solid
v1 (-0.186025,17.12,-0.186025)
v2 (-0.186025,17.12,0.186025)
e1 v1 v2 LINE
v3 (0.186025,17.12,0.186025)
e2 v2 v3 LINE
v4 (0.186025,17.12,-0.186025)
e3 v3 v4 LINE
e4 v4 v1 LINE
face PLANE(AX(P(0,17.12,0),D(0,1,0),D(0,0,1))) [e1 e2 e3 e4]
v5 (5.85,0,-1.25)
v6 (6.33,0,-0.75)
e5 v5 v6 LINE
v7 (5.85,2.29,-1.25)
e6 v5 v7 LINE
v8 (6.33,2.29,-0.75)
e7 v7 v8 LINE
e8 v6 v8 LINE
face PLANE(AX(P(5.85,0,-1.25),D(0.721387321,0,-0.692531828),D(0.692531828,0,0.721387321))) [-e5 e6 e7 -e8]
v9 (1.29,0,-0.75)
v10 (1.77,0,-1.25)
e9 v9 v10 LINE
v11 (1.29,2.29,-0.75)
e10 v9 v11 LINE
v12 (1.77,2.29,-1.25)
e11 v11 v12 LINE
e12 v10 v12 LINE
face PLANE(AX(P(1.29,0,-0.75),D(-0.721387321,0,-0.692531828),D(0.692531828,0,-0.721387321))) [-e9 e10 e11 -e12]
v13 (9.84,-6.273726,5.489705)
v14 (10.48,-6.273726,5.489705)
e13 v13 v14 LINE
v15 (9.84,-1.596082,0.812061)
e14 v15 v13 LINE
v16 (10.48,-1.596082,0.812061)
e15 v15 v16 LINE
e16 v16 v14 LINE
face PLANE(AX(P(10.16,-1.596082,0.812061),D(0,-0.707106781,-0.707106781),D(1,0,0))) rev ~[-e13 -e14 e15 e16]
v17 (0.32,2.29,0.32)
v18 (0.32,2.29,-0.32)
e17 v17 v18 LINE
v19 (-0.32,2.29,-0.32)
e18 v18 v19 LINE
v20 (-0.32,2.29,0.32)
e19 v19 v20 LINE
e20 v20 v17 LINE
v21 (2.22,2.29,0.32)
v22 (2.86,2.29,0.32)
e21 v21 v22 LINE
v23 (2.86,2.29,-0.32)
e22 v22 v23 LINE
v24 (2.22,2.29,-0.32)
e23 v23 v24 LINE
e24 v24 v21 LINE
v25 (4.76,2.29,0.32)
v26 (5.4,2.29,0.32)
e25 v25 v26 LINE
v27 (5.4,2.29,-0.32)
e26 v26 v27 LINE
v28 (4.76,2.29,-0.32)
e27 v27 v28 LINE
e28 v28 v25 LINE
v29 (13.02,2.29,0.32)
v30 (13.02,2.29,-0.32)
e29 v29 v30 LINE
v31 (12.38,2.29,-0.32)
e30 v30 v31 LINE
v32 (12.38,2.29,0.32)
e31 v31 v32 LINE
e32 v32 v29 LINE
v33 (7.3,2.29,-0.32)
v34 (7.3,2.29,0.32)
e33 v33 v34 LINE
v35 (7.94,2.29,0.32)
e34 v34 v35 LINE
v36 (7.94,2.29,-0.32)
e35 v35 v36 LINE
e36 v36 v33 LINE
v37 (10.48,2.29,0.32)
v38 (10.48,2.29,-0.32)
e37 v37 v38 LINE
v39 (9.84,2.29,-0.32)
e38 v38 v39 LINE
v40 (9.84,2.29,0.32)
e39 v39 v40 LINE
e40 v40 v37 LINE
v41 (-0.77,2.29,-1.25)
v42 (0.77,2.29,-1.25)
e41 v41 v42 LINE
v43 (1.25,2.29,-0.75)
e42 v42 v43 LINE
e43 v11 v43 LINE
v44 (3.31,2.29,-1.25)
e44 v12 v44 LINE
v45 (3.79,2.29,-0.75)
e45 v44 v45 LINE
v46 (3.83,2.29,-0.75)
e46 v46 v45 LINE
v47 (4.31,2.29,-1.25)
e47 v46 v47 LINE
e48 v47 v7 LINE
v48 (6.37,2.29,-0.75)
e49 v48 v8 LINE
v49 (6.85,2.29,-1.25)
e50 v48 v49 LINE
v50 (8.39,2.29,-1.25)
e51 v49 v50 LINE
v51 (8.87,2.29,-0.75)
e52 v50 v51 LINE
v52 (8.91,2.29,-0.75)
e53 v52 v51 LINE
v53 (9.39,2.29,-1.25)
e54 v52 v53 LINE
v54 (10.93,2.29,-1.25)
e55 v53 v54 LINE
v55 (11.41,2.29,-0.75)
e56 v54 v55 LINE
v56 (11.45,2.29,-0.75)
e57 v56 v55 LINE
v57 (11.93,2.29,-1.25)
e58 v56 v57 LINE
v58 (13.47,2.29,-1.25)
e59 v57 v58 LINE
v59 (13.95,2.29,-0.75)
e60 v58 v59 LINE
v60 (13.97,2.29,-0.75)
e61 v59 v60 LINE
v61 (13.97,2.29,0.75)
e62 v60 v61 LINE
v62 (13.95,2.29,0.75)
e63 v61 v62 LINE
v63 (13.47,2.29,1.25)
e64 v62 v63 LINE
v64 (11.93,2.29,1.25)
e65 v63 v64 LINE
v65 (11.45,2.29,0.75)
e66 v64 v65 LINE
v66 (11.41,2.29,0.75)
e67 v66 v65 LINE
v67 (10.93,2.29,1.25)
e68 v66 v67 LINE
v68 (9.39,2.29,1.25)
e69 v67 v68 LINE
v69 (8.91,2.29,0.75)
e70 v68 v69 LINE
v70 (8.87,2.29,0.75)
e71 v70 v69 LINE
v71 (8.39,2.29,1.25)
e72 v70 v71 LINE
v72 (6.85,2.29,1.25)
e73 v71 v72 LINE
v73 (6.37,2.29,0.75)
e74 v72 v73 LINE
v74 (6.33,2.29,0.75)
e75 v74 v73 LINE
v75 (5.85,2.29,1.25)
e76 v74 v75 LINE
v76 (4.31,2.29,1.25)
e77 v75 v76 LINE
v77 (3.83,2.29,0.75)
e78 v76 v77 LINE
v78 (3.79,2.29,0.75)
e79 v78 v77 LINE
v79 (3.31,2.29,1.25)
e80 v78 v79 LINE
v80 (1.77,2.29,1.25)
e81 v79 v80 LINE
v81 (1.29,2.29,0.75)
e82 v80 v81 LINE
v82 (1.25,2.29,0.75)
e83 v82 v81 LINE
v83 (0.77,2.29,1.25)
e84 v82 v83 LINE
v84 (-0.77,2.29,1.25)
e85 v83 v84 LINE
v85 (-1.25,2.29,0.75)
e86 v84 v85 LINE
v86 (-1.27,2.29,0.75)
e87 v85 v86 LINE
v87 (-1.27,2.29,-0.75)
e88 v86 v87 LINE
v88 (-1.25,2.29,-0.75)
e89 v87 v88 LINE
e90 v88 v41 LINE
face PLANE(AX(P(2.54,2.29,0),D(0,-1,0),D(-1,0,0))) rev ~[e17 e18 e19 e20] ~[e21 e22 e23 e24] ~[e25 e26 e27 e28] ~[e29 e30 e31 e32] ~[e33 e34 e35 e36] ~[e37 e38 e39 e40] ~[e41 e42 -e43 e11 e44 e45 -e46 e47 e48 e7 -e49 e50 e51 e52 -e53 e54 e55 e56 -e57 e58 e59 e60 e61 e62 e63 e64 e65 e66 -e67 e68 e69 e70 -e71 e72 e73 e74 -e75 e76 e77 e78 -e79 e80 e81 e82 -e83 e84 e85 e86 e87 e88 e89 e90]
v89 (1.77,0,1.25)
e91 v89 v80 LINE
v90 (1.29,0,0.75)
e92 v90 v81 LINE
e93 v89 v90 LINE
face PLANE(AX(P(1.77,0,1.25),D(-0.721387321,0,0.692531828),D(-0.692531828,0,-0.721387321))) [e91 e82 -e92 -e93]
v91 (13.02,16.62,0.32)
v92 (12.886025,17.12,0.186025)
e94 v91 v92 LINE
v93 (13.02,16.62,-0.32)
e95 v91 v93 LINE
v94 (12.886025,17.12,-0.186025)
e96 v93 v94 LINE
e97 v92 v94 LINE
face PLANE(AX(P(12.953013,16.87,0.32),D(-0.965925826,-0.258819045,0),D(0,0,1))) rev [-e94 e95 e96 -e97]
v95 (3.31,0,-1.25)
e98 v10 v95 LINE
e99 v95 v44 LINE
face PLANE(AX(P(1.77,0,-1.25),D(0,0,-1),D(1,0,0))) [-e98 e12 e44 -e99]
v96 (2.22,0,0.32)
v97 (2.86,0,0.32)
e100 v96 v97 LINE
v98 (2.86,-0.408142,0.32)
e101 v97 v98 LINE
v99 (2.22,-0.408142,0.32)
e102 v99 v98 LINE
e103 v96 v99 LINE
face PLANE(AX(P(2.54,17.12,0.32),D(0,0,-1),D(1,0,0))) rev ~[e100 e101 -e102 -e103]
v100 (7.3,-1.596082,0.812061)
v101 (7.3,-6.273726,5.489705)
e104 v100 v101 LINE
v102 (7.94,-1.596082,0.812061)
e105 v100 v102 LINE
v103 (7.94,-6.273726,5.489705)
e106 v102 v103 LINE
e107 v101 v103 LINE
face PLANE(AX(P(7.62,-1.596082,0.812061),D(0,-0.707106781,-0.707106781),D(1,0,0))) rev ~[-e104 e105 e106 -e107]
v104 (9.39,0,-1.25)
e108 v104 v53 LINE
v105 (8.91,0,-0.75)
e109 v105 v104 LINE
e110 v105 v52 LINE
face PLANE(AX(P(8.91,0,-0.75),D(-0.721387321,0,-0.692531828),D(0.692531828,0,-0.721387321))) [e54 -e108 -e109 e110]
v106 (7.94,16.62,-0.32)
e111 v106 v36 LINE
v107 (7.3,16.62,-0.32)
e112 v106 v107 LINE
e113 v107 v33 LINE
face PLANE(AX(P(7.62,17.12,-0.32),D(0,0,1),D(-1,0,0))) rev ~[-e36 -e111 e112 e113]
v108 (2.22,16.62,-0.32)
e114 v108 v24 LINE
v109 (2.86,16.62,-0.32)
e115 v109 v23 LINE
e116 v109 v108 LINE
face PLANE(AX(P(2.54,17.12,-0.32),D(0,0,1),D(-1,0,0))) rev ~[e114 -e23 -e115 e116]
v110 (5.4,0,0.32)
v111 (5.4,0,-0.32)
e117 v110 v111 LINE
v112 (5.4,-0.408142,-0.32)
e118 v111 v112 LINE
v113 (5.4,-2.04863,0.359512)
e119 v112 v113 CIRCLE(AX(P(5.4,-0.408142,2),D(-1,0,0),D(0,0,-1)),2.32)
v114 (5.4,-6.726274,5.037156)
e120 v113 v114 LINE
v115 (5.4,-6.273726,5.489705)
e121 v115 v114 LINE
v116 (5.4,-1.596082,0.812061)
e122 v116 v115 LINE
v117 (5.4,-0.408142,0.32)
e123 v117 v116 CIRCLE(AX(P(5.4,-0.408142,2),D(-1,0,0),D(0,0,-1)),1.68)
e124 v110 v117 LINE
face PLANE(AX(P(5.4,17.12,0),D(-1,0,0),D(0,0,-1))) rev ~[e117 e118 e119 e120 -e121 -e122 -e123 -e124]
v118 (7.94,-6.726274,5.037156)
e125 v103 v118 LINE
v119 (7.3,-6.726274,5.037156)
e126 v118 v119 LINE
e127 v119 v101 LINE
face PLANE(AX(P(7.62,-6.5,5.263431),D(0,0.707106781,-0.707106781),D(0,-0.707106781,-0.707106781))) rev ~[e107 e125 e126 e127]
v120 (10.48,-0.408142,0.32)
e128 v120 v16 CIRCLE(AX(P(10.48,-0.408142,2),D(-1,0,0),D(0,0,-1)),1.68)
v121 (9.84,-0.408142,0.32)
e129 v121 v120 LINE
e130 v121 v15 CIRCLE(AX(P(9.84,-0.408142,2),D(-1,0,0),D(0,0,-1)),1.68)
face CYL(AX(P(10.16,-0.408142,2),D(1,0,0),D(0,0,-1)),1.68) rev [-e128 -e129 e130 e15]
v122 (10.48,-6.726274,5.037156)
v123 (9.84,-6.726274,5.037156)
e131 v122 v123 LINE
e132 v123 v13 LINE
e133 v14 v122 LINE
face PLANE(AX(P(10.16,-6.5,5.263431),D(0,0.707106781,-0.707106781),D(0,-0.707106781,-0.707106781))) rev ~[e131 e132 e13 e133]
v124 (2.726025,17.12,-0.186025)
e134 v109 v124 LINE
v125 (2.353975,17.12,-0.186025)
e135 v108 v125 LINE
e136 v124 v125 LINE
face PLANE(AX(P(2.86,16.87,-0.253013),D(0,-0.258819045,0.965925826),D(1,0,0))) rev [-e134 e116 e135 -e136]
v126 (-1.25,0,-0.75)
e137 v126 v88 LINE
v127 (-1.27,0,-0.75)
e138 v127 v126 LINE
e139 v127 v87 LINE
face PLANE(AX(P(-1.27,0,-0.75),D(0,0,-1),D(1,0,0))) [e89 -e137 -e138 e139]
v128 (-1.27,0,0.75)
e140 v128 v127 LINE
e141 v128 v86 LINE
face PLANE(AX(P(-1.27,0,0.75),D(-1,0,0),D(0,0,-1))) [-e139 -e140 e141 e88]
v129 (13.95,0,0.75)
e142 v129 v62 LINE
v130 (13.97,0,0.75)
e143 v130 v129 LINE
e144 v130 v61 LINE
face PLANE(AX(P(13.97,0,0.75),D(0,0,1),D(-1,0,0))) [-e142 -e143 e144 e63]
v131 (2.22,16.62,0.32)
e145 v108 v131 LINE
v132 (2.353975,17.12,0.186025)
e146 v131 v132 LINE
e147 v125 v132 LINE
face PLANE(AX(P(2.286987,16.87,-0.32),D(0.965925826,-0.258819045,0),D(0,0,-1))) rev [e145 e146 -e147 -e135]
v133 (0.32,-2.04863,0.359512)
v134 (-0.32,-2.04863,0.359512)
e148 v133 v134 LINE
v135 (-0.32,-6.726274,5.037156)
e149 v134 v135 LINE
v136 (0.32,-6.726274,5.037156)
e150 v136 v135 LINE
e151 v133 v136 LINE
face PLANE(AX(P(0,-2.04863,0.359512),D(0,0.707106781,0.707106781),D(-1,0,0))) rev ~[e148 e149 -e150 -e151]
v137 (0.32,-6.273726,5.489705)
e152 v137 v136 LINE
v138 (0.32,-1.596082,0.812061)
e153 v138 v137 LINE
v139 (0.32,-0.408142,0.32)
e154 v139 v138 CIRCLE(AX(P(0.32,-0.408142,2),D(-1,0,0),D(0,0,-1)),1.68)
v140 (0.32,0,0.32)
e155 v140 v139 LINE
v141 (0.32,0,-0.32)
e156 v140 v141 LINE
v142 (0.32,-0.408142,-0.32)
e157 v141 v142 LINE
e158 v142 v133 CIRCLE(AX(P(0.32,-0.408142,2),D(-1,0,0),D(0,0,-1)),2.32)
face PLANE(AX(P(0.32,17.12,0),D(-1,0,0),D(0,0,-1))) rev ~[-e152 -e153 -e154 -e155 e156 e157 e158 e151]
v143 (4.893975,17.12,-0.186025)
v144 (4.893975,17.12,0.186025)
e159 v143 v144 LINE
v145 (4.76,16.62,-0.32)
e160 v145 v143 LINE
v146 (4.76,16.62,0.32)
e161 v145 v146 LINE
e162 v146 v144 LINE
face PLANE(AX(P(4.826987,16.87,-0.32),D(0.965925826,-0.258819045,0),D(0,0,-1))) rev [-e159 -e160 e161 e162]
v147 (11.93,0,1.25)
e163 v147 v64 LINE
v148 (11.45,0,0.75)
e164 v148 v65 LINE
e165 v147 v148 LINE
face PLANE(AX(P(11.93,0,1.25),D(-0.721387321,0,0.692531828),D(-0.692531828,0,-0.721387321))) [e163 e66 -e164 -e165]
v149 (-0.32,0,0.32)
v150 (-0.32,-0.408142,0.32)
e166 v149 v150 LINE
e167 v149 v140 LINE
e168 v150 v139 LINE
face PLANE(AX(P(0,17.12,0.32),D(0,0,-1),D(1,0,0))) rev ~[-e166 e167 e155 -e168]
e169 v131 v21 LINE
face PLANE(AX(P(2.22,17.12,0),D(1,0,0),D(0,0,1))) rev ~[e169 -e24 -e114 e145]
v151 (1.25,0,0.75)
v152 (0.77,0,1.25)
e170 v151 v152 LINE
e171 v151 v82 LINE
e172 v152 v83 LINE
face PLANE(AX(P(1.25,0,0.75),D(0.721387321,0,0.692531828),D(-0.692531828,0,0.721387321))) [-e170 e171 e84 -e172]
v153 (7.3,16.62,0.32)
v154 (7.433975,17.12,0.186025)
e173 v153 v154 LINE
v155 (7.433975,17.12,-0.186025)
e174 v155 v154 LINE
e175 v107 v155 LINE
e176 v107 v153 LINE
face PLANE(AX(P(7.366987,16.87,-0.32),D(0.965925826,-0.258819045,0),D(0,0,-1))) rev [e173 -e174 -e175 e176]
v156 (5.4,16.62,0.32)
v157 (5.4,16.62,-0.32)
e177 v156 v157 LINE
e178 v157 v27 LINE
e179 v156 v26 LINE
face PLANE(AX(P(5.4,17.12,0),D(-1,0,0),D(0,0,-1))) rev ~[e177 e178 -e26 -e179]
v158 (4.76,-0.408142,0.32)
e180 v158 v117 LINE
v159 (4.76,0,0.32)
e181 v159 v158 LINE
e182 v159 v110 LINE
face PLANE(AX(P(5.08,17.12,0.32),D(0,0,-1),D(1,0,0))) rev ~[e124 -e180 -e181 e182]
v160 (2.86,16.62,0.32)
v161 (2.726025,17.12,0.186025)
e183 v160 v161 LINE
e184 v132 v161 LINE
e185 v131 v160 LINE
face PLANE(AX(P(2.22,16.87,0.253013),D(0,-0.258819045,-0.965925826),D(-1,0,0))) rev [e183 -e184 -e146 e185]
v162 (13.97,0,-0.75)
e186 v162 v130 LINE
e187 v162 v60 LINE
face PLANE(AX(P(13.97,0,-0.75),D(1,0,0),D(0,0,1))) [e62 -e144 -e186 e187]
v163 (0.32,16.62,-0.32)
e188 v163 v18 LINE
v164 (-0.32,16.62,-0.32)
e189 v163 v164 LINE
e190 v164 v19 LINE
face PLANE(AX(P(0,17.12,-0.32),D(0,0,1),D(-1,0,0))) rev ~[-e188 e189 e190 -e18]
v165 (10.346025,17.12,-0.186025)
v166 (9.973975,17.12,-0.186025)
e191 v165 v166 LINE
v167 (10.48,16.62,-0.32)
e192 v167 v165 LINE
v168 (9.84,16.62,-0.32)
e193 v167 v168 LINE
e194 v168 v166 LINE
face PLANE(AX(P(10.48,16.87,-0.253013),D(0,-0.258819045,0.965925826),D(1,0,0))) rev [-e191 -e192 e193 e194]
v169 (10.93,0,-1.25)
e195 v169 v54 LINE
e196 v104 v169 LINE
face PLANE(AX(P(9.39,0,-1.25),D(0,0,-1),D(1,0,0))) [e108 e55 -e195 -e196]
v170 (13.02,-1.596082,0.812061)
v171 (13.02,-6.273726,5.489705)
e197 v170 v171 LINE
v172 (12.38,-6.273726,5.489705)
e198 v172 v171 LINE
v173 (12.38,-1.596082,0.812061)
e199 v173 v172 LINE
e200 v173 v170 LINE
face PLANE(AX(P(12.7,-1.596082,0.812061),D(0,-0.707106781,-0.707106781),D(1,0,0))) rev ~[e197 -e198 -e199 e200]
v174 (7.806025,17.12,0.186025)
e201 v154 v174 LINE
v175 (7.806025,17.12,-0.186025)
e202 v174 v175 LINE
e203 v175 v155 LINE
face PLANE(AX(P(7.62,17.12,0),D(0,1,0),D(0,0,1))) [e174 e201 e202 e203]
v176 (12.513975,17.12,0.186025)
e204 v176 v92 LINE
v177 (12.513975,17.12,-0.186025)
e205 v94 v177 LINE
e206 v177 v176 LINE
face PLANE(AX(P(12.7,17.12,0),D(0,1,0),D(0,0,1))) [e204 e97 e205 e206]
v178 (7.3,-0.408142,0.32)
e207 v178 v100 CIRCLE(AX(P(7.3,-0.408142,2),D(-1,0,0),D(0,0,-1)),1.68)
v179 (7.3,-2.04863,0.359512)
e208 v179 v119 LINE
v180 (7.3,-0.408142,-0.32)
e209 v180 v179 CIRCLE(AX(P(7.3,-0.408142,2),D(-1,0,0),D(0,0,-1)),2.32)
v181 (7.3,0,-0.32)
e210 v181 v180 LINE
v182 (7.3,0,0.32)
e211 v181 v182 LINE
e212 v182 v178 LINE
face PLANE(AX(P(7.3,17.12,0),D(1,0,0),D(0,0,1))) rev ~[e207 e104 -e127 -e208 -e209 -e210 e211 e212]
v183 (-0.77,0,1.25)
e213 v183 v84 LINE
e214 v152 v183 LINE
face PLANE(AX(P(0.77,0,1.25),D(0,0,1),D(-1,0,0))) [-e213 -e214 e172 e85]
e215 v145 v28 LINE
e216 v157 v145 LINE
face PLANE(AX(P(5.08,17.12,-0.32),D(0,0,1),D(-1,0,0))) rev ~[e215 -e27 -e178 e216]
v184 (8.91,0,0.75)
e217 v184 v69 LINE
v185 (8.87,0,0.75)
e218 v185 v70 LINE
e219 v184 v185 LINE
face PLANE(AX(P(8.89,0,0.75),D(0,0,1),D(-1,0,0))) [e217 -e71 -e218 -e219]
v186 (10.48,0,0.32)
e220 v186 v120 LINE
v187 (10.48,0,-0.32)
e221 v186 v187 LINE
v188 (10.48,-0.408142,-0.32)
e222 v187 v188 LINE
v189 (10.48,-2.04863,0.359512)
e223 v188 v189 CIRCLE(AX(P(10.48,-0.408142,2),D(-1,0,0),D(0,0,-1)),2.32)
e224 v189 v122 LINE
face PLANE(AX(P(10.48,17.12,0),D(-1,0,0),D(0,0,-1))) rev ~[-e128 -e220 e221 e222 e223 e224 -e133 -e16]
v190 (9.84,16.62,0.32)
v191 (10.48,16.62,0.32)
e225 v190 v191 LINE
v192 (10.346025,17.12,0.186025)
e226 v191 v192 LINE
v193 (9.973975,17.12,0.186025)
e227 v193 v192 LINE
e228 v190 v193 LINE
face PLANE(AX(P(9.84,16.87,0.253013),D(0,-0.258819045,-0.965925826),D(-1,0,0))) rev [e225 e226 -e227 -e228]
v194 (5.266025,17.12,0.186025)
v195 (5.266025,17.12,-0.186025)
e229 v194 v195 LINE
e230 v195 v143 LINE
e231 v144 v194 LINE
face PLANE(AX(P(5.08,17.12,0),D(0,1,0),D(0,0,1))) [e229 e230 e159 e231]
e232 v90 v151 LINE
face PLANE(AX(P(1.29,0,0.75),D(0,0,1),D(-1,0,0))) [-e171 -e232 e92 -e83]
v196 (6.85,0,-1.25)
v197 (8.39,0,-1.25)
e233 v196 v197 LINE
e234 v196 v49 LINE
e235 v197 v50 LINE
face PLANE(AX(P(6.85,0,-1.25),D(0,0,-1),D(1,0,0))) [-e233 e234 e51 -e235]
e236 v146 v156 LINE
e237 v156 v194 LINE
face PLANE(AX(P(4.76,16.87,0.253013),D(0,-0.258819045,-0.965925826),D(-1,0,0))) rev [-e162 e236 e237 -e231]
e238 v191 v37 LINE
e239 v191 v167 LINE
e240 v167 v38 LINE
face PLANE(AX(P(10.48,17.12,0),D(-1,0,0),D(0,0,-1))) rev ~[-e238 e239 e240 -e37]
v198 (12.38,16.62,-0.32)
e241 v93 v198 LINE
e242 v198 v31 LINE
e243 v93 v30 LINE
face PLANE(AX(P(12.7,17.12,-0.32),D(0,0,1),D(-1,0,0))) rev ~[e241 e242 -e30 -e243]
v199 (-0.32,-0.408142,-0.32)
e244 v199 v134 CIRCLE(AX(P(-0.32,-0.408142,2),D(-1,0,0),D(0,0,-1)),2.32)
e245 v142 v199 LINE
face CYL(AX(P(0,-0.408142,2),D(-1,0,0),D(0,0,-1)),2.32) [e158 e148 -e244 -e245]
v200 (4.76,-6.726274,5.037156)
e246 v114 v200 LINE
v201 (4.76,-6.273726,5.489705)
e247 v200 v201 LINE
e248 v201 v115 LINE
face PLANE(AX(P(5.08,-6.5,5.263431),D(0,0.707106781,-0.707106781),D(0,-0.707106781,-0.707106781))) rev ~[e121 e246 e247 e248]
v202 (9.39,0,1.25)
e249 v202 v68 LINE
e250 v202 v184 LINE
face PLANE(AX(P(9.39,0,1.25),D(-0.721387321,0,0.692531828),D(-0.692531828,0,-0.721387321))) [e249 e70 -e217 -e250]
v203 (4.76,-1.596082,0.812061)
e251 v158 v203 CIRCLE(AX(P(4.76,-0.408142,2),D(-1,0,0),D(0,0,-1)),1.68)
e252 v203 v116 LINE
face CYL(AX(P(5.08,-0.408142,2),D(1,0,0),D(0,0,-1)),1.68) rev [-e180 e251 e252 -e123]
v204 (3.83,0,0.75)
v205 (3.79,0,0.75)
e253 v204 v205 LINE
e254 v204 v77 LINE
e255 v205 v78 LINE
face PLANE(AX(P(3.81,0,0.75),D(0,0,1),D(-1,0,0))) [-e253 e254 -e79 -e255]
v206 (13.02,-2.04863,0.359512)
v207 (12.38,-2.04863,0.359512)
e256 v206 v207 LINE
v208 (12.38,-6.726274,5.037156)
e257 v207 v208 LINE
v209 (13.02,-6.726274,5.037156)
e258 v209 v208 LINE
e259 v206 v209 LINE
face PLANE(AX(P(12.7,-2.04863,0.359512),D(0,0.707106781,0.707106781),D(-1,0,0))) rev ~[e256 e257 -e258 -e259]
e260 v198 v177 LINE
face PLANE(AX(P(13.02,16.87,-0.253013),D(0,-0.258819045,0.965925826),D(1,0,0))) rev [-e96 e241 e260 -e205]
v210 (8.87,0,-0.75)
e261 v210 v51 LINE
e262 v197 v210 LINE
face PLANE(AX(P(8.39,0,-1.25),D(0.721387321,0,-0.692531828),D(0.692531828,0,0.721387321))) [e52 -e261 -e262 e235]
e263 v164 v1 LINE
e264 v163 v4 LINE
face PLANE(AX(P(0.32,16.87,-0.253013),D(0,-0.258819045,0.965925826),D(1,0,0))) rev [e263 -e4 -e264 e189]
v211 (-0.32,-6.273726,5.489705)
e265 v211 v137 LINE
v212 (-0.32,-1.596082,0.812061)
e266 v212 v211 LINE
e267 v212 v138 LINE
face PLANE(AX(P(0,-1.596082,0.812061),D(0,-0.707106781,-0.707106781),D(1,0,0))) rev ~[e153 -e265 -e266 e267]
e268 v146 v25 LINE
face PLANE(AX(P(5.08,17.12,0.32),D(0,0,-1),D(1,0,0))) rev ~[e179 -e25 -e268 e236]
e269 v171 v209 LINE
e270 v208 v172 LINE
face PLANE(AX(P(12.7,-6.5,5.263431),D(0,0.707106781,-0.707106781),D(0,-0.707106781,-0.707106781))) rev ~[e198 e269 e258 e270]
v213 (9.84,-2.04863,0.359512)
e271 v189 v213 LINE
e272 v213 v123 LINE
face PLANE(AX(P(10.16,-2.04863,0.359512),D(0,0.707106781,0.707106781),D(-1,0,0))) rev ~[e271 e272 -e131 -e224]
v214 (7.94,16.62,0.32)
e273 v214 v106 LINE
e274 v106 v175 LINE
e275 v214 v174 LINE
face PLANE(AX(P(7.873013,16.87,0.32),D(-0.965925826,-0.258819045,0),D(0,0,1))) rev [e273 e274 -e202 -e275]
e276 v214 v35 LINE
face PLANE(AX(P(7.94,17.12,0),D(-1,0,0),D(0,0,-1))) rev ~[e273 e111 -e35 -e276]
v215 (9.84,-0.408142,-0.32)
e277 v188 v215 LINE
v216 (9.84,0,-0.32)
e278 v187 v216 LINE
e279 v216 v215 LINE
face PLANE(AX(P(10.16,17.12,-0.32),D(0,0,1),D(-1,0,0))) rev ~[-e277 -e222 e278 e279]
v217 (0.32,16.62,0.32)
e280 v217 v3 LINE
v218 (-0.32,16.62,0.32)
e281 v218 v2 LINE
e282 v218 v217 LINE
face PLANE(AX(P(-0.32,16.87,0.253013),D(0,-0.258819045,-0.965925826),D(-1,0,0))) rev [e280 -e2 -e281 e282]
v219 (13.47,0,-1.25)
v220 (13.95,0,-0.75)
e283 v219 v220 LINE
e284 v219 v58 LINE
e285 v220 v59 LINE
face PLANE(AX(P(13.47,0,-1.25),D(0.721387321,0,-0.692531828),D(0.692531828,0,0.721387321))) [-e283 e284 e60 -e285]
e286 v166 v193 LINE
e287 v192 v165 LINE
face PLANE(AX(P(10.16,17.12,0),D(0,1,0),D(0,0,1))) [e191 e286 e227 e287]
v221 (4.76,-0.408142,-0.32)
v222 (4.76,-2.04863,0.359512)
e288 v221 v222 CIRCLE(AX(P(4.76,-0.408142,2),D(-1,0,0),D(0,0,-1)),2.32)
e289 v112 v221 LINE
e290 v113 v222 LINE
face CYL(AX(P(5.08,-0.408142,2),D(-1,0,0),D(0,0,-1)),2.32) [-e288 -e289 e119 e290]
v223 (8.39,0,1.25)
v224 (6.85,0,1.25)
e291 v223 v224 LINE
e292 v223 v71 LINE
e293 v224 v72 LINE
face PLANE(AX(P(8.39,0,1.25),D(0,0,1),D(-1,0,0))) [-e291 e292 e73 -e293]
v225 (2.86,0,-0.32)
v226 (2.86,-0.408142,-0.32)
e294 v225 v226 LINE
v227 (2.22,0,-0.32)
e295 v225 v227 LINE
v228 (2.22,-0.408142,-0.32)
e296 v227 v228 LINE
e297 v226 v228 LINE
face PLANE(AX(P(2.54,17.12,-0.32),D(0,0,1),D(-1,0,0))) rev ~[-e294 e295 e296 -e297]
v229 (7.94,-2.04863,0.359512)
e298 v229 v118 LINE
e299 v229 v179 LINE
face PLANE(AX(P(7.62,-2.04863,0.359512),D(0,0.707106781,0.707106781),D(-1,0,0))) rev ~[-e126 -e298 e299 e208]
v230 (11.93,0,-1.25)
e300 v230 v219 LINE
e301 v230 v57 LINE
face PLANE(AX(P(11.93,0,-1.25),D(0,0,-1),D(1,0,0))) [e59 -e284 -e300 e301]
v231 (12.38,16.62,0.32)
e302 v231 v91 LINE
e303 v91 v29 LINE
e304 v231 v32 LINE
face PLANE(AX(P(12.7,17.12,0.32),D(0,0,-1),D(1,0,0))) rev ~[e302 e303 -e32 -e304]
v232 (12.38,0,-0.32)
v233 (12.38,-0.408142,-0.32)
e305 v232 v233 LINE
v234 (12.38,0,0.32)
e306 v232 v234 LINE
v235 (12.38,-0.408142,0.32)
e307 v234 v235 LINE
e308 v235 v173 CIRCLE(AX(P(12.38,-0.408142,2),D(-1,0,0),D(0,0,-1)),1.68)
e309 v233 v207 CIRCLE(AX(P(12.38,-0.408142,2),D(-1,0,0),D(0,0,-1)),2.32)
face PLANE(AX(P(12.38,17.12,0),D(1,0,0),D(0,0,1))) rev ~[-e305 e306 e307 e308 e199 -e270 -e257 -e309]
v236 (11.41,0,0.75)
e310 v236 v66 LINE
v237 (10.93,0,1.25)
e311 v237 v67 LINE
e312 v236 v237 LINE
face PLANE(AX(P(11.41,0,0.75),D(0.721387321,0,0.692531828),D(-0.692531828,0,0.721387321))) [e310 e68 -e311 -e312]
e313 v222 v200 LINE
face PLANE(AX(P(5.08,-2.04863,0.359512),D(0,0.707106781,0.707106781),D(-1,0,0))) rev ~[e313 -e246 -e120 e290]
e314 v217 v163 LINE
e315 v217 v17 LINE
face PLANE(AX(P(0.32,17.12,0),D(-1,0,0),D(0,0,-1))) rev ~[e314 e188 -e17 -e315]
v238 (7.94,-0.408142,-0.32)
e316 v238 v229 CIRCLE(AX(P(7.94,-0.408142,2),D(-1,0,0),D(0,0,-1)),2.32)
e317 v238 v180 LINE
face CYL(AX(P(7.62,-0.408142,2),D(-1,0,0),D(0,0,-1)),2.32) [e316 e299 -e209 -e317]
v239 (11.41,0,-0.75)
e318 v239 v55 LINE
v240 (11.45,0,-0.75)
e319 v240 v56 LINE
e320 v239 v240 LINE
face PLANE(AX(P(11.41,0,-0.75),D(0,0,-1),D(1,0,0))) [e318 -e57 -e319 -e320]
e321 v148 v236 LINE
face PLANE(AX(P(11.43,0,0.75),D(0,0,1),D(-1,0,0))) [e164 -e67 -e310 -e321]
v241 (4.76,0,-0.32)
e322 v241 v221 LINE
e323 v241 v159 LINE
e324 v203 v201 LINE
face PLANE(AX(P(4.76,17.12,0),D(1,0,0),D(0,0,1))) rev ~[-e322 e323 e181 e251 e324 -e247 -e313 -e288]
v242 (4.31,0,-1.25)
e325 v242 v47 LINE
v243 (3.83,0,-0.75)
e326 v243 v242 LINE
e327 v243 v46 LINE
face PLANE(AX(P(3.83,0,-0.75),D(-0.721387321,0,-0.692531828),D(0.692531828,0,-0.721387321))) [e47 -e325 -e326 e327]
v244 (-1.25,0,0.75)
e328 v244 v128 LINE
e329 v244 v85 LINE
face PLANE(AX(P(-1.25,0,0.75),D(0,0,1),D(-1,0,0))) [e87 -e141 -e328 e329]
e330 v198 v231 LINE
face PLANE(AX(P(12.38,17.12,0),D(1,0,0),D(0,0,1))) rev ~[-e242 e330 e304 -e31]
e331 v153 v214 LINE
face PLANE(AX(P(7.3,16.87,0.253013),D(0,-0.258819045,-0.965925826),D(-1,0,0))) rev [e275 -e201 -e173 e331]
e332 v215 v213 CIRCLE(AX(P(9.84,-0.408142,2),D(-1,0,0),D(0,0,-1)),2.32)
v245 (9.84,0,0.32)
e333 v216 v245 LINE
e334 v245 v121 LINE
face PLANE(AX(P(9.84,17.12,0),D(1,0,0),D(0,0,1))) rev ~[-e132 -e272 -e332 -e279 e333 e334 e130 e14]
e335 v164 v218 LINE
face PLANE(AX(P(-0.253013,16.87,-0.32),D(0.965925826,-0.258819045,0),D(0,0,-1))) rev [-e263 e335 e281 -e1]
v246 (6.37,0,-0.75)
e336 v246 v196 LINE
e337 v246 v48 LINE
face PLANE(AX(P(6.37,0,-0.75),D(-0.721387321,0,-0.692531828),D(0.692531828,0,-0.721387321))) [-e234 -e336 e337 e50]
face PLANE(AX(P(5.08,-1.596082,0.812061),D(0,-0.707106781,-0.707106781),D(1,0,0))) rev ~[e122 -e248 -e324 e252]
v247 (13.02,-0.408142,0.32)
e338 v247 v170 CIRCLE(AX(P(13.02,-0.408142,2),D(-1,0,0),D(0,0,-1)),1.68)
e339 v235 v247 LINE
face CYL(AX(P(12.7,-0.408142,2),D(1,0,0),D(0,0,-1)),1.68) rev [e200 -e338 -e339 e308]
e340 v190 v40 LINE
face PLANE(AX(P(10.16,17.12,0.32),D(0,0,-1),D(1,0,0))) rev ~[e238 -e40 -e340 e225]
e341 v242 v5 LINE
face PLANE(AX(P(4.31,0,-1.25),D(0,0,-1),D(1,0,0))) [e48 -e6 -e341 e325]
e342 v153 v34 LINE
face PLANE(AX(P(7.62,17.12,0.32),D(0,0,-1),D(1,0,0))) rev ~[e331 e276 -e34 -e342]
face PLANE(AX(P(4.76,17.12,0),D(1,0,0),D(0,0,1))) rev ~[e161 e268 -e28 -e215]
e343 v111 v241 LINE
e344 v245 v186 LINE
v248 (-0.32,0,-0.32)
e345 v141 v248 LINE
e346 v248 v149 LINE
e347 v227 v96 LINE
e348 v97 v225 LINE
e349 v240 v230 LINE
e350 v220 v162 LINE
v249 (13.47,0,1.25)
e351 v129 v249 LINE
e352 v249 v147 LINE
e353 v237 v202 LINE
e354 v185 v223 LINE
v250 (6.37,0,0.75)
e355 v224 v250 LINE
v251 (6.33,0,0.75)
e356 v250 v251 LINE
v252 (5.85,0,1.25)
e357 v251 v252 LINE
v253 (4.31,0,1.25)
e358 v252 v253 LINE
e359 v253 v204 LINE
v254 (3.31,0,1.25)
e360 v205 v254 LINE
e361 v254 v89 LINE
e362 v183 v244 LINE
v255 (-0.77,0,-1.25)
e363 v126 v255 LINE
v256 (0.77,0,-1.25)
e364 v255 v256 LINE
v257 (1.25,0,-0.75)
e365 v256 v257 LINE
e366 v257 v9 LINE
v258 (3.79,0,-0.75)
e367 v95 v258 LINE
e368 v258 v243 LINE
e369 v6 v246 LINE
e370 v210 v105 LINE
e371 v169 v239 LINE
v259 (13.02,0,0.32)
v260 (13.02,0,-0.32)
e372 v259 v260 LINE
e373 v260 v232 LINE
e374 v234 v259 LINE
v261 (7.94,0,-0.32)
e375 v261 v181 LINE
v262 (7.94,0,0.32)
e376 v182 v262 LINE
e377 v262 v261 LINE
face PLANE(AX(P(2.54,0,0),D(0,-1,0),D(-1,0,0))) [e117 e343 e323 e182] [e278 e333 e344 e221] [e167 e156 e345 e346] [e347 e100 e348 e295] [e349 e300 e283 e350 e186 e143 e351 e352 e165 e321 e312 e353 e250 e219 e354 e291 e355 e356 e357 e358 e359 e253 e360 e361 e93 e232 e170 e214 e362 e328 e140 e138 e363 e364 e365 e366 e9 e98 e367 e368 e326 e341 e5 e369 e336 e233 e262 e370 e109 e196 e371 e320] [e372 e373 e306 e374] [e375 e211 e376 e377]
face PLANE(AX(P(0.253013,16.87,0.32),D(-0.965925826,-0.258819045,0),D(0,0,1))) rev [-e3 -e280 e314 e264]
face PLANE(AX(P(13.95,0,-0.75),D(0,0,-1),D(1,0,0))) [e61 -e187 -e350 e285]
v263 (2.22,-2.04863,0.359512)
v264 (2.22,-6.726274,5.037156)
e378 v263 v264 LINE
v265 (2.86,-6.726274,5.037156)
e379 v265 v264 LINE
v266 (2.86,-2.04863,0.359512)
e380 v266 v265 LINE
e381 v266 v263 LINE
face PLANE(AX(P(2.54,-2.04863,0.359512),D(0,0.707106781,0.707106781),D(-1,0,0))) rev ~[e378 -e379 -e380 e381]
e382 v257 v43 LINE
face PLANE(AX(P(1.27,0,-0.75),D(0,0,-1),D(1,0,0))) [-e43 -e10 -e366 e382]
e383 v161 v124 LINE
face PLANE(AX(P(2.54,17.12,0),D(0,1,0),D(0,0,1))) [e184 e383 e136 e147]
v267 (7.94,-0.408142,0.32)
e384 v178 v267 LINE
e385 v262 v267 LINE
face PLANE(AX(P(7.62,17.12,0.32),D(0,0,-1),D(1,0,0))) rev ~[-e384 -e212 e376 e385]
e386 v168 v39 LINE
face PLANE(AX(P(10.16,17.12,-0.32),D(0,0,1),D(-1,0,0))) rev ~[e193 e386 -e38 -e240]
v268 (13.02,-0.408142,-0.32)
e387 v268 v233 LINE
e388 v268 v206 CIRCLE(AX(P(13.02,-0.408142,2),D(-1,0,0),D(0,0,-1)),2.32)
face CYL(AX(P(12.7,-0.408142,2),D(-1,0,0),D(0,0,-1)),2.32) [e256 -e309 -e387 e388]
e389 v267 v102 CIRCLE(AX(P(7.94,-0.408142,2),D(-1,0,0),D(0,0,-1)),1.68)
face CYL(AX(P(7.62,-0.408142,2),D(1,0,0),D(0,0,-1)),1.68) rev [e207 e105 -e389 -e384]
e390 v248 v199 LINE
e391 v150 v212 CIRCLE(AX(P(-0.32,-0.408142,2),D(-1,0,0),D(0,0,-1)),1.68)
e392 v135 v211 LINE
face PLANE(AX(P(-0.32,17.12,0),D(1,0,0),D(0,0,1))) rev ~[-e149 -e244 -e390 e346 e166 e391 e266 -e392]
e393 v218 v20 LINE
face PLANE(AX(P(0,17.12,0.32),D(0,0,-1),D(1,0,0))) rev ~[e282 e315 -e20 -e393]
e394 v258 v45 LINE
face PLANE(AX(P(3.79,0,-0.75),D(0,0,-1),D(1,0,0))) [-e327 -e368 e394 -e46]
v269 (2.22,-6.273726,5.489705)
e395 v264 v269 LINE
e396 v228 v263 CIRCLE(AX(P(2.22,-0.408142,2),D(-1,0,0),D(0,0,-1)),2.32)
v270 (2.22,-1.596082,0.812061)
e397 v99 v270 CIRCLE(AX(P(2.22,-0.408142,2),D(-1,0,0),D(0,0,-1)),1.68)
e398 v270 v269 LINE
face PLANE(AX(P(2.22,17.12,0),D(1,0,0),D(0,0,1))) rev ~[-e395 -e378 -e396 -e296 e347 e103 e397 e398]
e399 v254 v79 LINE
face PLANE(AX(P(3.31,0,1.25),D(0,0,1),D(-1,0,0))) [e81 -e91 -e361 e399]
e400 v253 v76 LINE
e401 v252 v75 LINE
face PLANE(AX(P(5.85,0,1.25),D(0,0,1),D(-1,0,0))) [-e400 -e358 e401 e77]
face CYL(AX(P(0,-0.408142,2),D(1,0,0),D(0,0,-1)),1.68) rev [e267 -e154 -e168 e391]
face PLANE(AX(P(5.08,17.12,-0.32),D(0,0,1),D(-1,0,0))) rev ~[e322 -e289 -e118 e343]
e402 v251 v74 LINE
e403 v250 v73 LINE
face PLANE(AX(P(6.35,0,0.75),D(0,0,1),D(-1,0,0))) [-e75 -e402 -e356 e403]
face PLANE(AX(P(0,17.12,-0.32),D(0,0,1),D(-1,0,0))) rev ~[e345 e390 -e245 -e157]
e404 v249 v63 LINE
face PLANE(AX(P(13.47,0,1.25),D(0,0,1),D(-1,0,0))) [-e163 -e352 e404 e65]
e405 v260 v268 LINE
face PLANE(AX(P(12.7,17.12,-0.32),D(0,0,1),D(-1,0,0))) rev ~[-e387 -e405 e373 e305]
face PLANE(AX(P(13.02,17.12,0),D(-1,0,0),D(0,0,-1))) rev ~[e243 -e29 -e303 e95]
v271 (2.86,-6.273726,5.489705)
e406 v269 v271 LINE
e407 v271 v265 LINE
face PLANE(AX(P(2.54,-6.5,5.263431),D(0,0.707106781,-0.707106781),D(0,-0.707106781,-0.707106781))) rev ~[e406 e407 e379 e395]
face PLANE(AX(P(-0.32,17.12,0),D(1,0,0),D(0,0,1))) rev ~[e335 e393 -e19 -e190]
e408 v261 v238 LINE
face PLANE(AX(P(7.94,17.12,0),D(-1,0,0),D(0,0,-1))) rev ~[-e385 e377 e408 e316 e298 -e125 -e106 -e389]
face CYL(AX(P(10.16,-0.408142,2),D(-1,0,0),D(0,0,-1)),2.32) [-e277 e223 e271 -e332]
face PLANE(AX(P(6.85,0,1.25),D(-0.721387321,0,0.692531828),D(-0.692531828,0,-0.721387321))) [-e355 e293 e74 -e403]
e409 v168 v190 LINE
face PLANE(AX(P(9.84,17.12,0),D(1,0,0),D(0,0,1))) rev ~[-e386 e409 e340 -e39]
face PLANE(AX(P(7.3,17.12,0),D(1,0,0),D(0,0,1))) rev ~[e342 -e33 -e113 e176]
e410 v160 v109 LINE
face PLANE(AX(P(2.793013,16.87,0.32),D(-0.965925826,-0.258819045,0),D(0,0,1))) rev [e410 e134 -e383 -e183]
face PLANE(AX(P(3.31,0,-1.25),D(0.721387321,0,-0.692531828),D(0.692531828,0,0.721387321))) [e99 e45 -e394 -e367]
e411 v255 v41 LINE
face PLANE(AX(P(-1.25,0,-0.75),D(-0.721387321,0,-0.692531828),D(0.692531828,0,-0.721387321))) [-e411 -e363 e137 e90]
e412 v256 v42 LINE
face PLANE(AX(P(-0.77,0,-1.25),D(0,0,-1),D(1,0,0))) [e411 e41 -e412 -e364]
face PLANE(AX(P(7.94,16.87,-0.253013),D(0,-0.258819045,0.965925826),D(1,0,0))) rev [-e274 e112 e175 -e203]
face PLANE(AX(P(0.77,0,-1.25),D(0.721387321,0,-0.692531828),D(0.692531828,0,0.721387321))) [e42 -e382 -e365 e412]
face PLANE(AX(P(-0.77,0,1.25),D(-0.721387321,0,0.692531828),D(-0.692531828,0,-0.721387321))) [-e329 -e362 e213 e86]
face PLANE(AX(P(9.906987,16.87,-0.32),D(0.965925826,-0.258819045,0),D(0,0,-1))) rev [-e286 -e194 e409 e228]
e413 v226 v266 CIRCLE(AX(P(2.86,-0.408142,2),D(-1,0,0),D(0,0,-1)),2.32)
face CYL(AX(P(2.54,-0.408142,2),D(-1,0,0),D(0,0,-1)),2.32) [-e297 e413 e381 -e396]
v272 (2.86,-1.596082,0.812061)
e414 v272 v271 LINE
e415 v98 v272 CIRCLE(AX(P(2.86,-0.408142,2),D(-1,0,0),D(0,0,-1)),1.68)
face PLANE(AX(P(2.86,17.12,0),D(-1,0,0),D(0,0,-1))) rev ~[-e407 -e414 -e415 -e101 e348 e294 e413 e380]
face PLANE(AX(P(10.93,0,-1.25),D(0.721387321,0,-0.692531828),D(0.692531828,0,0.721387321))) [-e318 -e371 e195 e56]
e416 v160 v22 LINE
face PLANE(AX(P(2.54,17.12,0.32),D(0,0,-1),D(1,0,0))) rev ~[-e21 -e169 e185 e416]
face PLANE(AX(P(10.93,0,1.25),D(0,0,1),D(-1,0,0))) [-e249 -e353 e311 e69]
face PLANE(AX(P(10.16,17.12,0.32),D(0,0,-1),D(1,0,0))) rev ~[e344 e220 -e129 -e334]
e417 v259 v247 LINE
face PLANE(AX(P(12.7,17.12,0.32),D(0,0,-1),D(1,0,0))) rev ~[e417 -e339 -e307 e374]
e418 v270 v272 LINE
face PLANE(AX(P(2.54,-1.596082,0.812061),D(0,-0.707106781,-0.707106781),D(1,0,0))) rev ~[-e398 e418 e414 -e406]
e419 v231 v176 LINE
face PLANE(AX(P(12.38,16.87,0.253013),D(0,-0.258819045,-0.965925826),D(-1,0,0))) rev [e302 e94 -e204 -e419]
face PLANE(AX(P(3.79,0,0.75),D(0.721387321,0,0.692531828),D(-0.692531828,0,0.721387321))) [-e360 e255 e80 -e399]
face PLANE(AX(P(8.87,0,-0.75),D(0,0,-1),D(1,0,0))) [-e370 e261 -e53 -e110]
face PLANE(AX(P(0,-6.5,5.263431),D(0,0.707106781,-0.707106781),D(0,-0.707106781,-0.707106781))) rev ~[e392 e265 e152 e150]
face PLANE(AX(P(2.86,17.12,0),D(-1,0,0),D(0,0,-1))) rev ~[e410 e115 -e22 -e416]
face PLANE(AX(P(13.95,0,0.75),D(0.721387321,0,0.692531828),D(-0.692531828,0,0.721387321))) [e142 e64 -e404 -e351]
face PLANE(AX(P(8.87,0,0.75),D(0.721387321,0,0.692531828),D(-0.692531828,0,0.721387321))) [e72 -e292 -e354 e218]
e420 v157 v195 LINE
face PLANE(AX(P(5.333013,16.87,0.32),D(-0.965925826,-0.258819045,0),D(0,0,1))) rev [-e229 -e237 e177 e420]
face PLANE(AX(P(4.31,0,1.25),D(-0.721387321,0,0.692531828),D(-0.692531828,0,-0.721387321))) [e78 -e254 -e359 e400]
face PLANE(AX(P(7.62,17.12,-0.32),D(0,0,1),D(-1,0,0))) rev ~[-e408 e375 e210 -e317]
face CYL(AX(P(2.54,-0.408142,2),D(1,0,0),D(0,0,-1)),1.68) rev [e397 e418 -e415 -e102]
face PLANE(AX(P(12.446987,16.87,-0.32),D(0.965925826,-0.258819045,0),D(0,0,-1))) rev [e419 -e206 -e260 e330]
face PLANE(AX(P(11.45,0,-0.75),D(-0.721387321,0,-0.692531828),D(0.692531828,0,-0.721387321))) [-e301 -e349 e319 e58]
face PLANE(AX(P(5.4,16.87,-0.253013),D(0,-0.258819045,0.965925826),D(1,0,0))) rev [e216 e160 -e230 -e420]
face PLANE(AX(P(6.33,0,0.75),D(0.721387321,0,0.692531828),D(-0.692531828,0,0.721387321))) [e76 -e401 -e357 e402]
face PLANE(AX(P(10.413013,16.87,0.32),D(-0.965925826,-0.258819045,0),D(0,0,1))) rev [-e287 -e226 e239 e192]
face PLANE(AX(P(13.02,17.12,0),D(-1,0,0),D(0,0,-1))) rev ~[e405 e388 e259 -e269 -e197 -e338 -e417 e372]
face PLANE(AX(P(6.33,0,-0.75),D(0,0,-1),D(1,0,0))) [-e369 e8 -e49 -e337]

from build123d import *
from OCP.BRepFilletAPI import BRepFilletAPI_MakeChamfer

# Parameters (mm, degrees)
BOSS_EXTRUDE1_DEPTH         = 2.29
SKETCH3_W                   = 0.64
SKETCH3_H                   = 0.64
CHAMFER3_SIZE               = 0.5
CHAMFER3_SIZE2              = 0.133974596
LPATTERN1_COUNT             = 6
LPATTERN1_PITCH             = 2.54
CHAMFER3_OF_LPATTERN1_SIZE  = 0.5
CHAMFER3_OF_LPATTERN1_SIZE2 = 0.133974596


with BuildPart() as part:
    # Sketch1 → Boss-Extrude1 (new body)
    with BuildSketch(Plane(origin=(0, 0, 0), x_dir=(1, 0, 0), z_dir=(0, 1, 0))):
        Polygon((-0.77, 1.25), (0.77, 1.25), (1.25, 0.75), (1.27, 0.75), (1.27, -0.75), (1.25, -0.75), (0.77, -1.25), (-0.77, -1.25), (-1.25, -0.75), (-1.27, -0.75), (-1.27, 0.75), (-1.25, 0.75), align=None)
    boss_extrude1 = extrude(amount=BOSS_EXTRUDE1_DEPTH)

    # Sweep1: sweep along a path in Sketch2
    with BuildLine(Plane(origin=(0, 0, 0), x_dir=(0, 0, -1), z_dir=(1, 0, 0))) as sweep1_path:
        Line((0, 17.12), (0, -0.408142235))
        ThreePointArc((0, -0.408142235), (-0.152240935, -1.1735091), (-0.585786438, -1.822355798))
        Line((-0.585786438, -1.822355798), (-5.26343064, -6.5))
    # Sketch3 → Sweep1 (sweep)
    with BuildSketch(Plane(origin=(0, 17.12, 0), x_dir=(1, 0, 0), z_dir=(0, 1, 0))):
        Rectangle(SKETCH3_W, SKETCH3_H)
    sweep1 = sweep(path=sweep1_path.line)

    # Chamfer3: one chamfer whose edges measure the first distance from different faces: ONE call of the kernel's chamfer builder (chamfer() names one face for all edges)
    chamfer3_edges_1 = [part.edges().sort_by_distance(p)[0] for p in [
        (0.32, 17.12, 0),
    ]]
    chamfer3_side_1 = [part.faces().sort_by_distance(p)[0] for p in [
        (0.32, 9.705, 0),
    ]]
    chamfer3_edges_2 = [part.edges().sort_by_distance(p)[0] for p in [
        (0, 17.12, -0.32),
    ]]
    chamfer3_side_2 = [part.faces().sort_by_distance(p)[0] for p in [
        (0, 9.705, -0.32),
    ]]
    chamfer3_edges_3 = [part.edges().sort_by_distance(p)[0] for p in [
        (-0.32, 17.12, 0),
    ]]
    chamfer3_side_3 = [part.faces().sort_by_distance(p)[0] for p in [
        (-0.32, 9.705, 0),
    ]]
    chamfer3_edges_4 = [part.edges().sort_by_distance(p)[0] for p in [
        (0, 17.12, 0.32),
    ]]
    chamfer3_side_4 = [part.faces().sort_by_distance(p)[0] for p in [
        (0, 9.705, 0.32),
    ]]
    chamfer3 = BRepFilletAPI_MakeChamfer(part.part.solid().wrapped)
    for e in chamfer3_edges_1:
        chamfer3.Add(CHAMFER3_SIZE, CHAMFER3_SIZE2, e.wrapped, chamfer3_side_1[0].wrapped)  # the first distance lies on this face
    for e in chamfer3_edges_2:
        chamfer3.Add(CHAMFER3_SIZE, CHAMFER3_SIZE2, e.wrapped, chamfer3_side_2[0].wrapped)  # the first distance lies on this face
    for e in chamfer3_edges_3:
        chamfer3.Add(CHAMFER3_SIZE, CHAMFER3_SIZE2, e.wrapped, chamfer3_side_3[0].wrapped)  # the first distance lies on this face
    for e in chamfer3_edges_4:
        chamfer3.Add(CHAMFER3_SIZE, CHAMFER3_SIZE2, e.wrapped, chamfer3_side_4[0].wrapped)  # the first distance lies on this face
    add(Compound.cast(chamfer3.Shape()), mode=Mode.REPLACE)

    # LPattern1: Boss-Extrude1, Sweep1 ×6
    with Locations(*[(i * LPATTERN1_PITCH, 0, 0) for i in range(1, LPATTERN1_COUNT)]):
        add(boss_extrude1)
        add(sweep1)

    # Chamfer3 of LPattern1: one chamfer whose edges measure the first distance from different faces: ONE call of the kernel's chamfer builder (chamfer() names one face for all edges)
    chamfer3_of_lpattern1_edges_1 = [part.edges().sort_by_distance(p)[0] for p in [
        (2.86, 17.12, 0),
    ]]
    chamfer3_of_lpattern1_side_1 = [part.faces().sort_by_distance(p)[0] for p in [
        (2.86, 9.705, 0),
    ]]
    chamfer3_of_lpattern1_edges_2 = [part.edges().sort_by_distance(p)[0] for p in [
        (2.54, 17.12, -0.32),
    ]]
    chamfer3_of_lpattern1_side_2 = [part.faces().sort_by_distance(p)[0] for p in [
        (2.54, 9.705, -0.32),
    ]]
    chamfer3_of_lpattern1_edges_3 = [part.edges().sort_by_distance(p)[0] for p in [
        (2.22, 17.12, 0),
    ]]
    chamfer3_of_lpattern1_side_3 = [part.faces().sort_by_distance(p)[0] for p in [
        (2.22, 9.705, 0),
    ]]
    chamfer3_of_lpattern1_edges_4 = [part.edges().sort_by_distance(p)[0] for p in [
        (2.54, 17.12, 0.32),
    ]]
    chamfer3_of_lpattern1_side_4 = [part.faces().sort_by_distance(p)[0] for p in [
        (2.54, 9.705, 0.32),
    ]]
    chamfer3_of_lpattern1_edges_5 = [part.edges().sort_by_distance(p)[0] for p in [
        (5.4, 17.12, 0),
    ]]
    chamfer3_of_lpattern1_side_5 = [part.faces().sort_by_distance(p)[0] for p in [
        (5.4, 9.705, 0),
    ]]
    chamfer3_of_lpattern1_edges_6 = [part.edges().sort_by_distance(p)[0] for p in [
        (5.08, 17.12, -0.32),
    ]]
    chamfer3_of_lpattern1_side_6 = [part.faces().sort_by_distance(p)[0] for p in [
        (5.08, 9.705, -0.32),
    ]]
    chamfer3_of_lpattern1_edges_7 = [part.edges().sort_by_distance(p)[0] for p in [
        (4.76, 17.12, 0),
    ]]
    chamfer3_of_lpattern1_side_7 = [part.faces().sort_by_distance(p)[0] for p in [
        (4.76, 9.705, 0),
    ]]
    chamfer3_of_lpattern1_edges_8 = [part.edges().sort_by_distance(p)[0] for p in [
        (5.08, 17.12, 0.32),
    ]]
    chamfer3_of_lpattern1_side_8 = [part.faces().sort_by_distance(p)[0] for p in [
        (5.08, 9.705, 0.32),
    ]]
    chamfer3_of_lpattern1_edges_9 = [part.edges().sort_by_distance(p)[0] for p in [
        (7.94, 17.12, 0),
    ]]
    chamfer3_of_lpattern1_side_9 = [part.faces().sort_by_distance(p)[0] for p in [
        (7.94, 9.705, 0),
    ]]
    chamfer3_of_lpattern1_edges_10 = [part.edges().sort_by_distance(p)[0] for p in [
        (7.62, 17.12, -0.32),
    ]]
    chamfer3_of_lpattern1_side_10 = [part.faces().sort_by_distance(p)[0] for p in [
        (7.62, 9.705, -0.32),
    ]]
    chamfer3_of_lpattern1_edges_11 = [part.edges().sort_by_distance(p)[0] for p in [
        (7.3, 17.12, 0),
    ]]
    chamfer3_of_lpattern1_side_11 = [part.faces().sort_by_distance(p)[0] for p in [
        (7.3, 9.705, 0),
    ]]
    chamfer3_of_lpattern1_edges_12 = [part.edges().sort_by_distance(p)[0] for p in [
        (7.62, 17.12, 0.32),
    ]]
    chamfer3_of_lpattern1_side_12 = [part.faces().sort_by_distance(p)[0] for p in [
        (7.62, 9.705, 0.32),
    ]]
    chamfer3_of_lpattern1_edges_13 = [part.edges().sort_by_distance(p)[0] for p in [
        (10.48, 17.12, 0),
    ]]
    chamfer3_of_lpattern1_side_13 = [part.faces().sort_by_distance(p)[0] for p in [
        (10.48, 9.705, 0),
    ]]
    chamfer3_of_lpattern1_edges_14 = [part.edges().sort_by_distance(p)[0] for p in [
        (10.16, 17.12, -0.32),
    ]]
    chamfer3_of_lpattern1_side_14 = [part.faces().sort_by_distance(p)[0] for p in [
        (10.16, 9.705, -0.32),
    ]]
    chamfer3_of_lpattern1_edges_15 = [part.edges().sort_by_distance(p)[0] for p in [
        (9.84, 17.12, 0),
    ]]
    chamfer3_of_lpattern1_side_15 = [part.faces().sort_by_distance(p)[0] for p in [
        (9.84, 9.705, 0),
    ]]
    chamfer3_of_lpattern1_edges_16 = [part.edges().sort_by_distance(p)[0] for p in [
        (10.16, 17.12, 0.32),
    ]]
    chamfer3_of_lpattern1_side_16 = [part.faces().sort_by_distance(p)[0] for p in [
        (10.16, 9.705, 0.32),
    ]]
    chamfer3_of_lpattern1_edges_17 = [part.edges().sort_by_distance(p)[0] for p in [
        (13.02, 17.12, 0),
    ]]
    chamfer3_of_lpattern1_side_17 = [part.faces().sort_by_distance(p)[0] for p in [
        (13.02, 9.705, 0),
    ]]
    chamfer3_of_lpattern1_edges_18 = [part.edges().sort_by_distance(p)[0] for p in [
        (12.7, 17.12, -0.32),
    ]]
    chamfer3_of_lpattern1_side_18 = [part.faces().sort_by_distance(p)[0] for p in [
        (12.7, 9.705, -0.32),
    ]]
    chamfer3_of_lpattern1_edges_19 = [part.edges().sort_by_distance(p)[0] for p in [
        (12.38, 17.12, 0),
    ]]
    chamfer3_of_lpattern1_side_19 = [part.faces().sort_by_distance(p)[0] for p in [
        (12.38, 9.705, 0),
    ]]
    chamfer3_of_lpattern1_edges_20 = [part.edges().sort_by_distance(p)[0] for p in [
        (12.7, 17.12, 0.32),
    ]]
    chamfer3_of_lpattern1_side_20 = [part.faces().sort_by_distance(p)[0] for p in [
        (12.7, 9.705, 0.32),
    ]]
    chamfer3_of_lpattern1 = BRepFilletAPI_MakeChamfer(part.part.solid().wrapped)
    for e in chamfer3_of_lpattern1_edges_1:
        chamfer3_of_lpattern1.Add(CHAMFER3_OF_LPATTERN1_SIZE, CHAMFER3_OF_LPATTERN1_SIZE2, e.wrapped, chamfer3_of_lpattern1_side_1[0].wrapped)  # the first distance lies on this face
    for e in chamfer3_of_lpattern1_edges_2:
        chamfer3_of_lpattern1.Add(CHAMFER3_OF_LPATTERN1_SIZE, CHAMFER3_OF_LPATTERN1_SIZE2, e.wrapped, chamfer3_of_lpattern1_side_2[0].wrapped)  # the first distance lies on this face
    for e in chamfer3_of_lpattern1_edges_3:
        chamfer3_of_lpattern1.Add(CHAMFER3_OF_LPATTERN1_SIZE, CHAMFER3_OF_LPATTERN1_SIZE2, e.wrapped, chamfer3_of_lpattern1_side_3[0].wrapped)  # the first distance lies on this face
    for e in chamfer3_of_lpattern1_edges_4:
        chamfer3_of_lpattern1.Add(CHAMFER3_OF_LPATTERN1_SIZE, CHAMFER3_OF_LPATTERN1_SIZE2, e.wrapped, chamfer3_of_lpattern1_side_4[0].wrapped)  # the first distance lies on this face
    for e in chamfer3_of_lpattern1_edges_5:
        chamfer3_of_lpattern1.Add(CHAMFER3_OF_LPATTERN1_SIZE, CHAMFER3_OF_LPATTERN1_SIZE2, e.wrapped, chamfer3_of_lpattern1_side_5[0].wrapped)  # the first distance lies on this face
    for e in chamfer3_of_lpattern1_edges_6:
        chamfer3_of_lpattern1.Add(CHAMFER3_OF_LPATTERN1_SIZE, CHAMFER3_OF_LPATTERN1_SIZE2, e.wrapped, chamfer3_of_lpattern1_side_6[0].wrapped)  # the first distance lies on this face
    for e in chamfer3_of_lpattern1_edges_7:
        chamfer3_of_lpattern1.Add(CHAMFER3_OF_LPATTERN1_SIZE, CHAMFER3_OF_LPATTERN1_SIZE2, e.wrapped, chamfer3_of_lpattern1_side_7[0].wrapped)  # the first distance lies on this face
    for e in chamfer3_of_lpattern1_edges_8:
        chamfer3_of_lpattern1.Add(CHAMFER3_OF_LPATTERN1_SIZE, CHAMFER3_OF_LPATTERN1_SIZE2, e.wrapped, chamfer3_of_lpattern1_side_8[0].wrapped)  # the first distance lies on this face
    for e in chamfer3_of_lpattern1_edges_9:
        chamfer3_of_lpattern1.Add(CHAMFER3_OF_LPATTERN1_SIZE, CHAMFER3_OF_LPATTERN1_SIZE2, e.wrapped, chamfer3_of_lpattern1_side_9[0].wrapped)  # the first distance lies on this face
    for e in chamfer3_of_lpattern1_edges_10:
        chamfer3_of_lpattern1.Add(CHAMFER3_OF_LPATTERN1_SIZE, CHAMFER3_OF_LPATTERN1_SIZE2, e.wrapped, chamfer3_of_lpattern1_side_10[0].wrapped)  # the first distance lies on this face
    for e in chamfer3_of_lpattern1_edges_11:
        chamfer3_of_lpattern1.Add(CHAMFER3_OF_LPATTERN1_SIZE, CHAMFER3_OF_LPATTERN1_SIZE2, e.wrapped, chamfer3_of_lpattern1_side_11[0].wrapped)  # the first distance lies on this face
    for e in chamfer3_of_lpattern1_edges_12:
        chamfer3_of_lpattern1.Add(CHAMFER3_OF_LPATTERN1_SIZE, CHAMFER3_OF_LPATTERN1_SIZE2, e.wrapped, chamfer3_of_lpattern1_side_12[0].wrapped)  # the first distance lies on this face
    for e in chamfer3_of_lpattern1_edges_13:
        chamfer3_of_lpattern1.Add(CHAMFER3_OF_LPATTERN1_SIZE, CHAMFER3_OF_LPATTERN1_SIZE2, e.wrapped, chamfer3_of_lpattern1_side_13[0].wrapped)  # the first distance lies on this face
    for e in chamfer3_of_lpattern1_edges_14:
        chamfer3_of_lpattern1.Add(CHAMFER3_OF_LPATTERN1_SIZE, CHAMFER3_OF_LPATTERN1_SIZE2, e.wrapped, chamfer3_of_lpattern1_side_14[0].wrapped)  # the first distance lies on this face
    for e in chamfer3_of_lpattern1_edges_15:
        chamfer3_of_lpattern1.Add(CHAMFER3_OF_LPATTERN1_SIZE, CHAMFER3_OF_LPATTERN1_SIZE2, e.wrapped, chamfer3_of_lpattern1_side_15[0].wrapped)  # the first distance lies on this face
    for e in chamfer3_of_lpattern1_edges_16:
        chamfer3_of_lpattern1.Add(CHAMFER3_OF_LPATTERN1_SIZE, CHAMFER3_OF_LPATTERN1_SIZE2, e.wrapped, chamfer3_of_lpattern1_side_16[0].wrapped)  # the first distance lies on this face
    for e in chamfer3_of_lpattern1_edges_17:
        chamfer3_of_lpattern1.Add(CHAMFER3_OF_LPATTERN1_SIZE, CHAMFER3_OF_LPATTERN1_SIZE2, e.wrapped, chamfer3_of_lpattern1_side_17[0].wrapped)  # the first distance lies on this face
    for e in chamfer3_of_lpattern1_edges_18:
        chamfer3_of_lpattern1.Add(CHAMFER3_OF_LPATTERN1_SIZE, CHAMFER3_OF_LPATTERN1_SIZE2, e.wrapped, chamfer3_of_lpattern1_side_18[0].wrapped)  # the first distance lies on this face
    for e in chamfer3_of_lpattern1_edges_19:
        chamfer3_of_lpattern1.Add(CHAMFER3_OF_LPATTERN1_SIZE, CHAMFER3_OF_LPATTERN1_SIZE2, e.wrapped, chamfer3_of_lpattern1_side_19[0].wrapped)  # the first distance lies on this face
    for e in chamfer3_of_lpattern1_edges_20:
        chamfer3_of_lpattern1.Add(CHAMFER3_OF_LPATTERN1_SIZE, CHAMFER3_OF_LPATTERN1_SIZE2, e.wrapped, chamfer3_of_lpattern1_side_20[0].wrapped)  # the first distance lies on this face
    add(Compound.cast(chamfer3_of_lpattern1.Shape()), mode=Mode.REPLACE)


solid = part.part
